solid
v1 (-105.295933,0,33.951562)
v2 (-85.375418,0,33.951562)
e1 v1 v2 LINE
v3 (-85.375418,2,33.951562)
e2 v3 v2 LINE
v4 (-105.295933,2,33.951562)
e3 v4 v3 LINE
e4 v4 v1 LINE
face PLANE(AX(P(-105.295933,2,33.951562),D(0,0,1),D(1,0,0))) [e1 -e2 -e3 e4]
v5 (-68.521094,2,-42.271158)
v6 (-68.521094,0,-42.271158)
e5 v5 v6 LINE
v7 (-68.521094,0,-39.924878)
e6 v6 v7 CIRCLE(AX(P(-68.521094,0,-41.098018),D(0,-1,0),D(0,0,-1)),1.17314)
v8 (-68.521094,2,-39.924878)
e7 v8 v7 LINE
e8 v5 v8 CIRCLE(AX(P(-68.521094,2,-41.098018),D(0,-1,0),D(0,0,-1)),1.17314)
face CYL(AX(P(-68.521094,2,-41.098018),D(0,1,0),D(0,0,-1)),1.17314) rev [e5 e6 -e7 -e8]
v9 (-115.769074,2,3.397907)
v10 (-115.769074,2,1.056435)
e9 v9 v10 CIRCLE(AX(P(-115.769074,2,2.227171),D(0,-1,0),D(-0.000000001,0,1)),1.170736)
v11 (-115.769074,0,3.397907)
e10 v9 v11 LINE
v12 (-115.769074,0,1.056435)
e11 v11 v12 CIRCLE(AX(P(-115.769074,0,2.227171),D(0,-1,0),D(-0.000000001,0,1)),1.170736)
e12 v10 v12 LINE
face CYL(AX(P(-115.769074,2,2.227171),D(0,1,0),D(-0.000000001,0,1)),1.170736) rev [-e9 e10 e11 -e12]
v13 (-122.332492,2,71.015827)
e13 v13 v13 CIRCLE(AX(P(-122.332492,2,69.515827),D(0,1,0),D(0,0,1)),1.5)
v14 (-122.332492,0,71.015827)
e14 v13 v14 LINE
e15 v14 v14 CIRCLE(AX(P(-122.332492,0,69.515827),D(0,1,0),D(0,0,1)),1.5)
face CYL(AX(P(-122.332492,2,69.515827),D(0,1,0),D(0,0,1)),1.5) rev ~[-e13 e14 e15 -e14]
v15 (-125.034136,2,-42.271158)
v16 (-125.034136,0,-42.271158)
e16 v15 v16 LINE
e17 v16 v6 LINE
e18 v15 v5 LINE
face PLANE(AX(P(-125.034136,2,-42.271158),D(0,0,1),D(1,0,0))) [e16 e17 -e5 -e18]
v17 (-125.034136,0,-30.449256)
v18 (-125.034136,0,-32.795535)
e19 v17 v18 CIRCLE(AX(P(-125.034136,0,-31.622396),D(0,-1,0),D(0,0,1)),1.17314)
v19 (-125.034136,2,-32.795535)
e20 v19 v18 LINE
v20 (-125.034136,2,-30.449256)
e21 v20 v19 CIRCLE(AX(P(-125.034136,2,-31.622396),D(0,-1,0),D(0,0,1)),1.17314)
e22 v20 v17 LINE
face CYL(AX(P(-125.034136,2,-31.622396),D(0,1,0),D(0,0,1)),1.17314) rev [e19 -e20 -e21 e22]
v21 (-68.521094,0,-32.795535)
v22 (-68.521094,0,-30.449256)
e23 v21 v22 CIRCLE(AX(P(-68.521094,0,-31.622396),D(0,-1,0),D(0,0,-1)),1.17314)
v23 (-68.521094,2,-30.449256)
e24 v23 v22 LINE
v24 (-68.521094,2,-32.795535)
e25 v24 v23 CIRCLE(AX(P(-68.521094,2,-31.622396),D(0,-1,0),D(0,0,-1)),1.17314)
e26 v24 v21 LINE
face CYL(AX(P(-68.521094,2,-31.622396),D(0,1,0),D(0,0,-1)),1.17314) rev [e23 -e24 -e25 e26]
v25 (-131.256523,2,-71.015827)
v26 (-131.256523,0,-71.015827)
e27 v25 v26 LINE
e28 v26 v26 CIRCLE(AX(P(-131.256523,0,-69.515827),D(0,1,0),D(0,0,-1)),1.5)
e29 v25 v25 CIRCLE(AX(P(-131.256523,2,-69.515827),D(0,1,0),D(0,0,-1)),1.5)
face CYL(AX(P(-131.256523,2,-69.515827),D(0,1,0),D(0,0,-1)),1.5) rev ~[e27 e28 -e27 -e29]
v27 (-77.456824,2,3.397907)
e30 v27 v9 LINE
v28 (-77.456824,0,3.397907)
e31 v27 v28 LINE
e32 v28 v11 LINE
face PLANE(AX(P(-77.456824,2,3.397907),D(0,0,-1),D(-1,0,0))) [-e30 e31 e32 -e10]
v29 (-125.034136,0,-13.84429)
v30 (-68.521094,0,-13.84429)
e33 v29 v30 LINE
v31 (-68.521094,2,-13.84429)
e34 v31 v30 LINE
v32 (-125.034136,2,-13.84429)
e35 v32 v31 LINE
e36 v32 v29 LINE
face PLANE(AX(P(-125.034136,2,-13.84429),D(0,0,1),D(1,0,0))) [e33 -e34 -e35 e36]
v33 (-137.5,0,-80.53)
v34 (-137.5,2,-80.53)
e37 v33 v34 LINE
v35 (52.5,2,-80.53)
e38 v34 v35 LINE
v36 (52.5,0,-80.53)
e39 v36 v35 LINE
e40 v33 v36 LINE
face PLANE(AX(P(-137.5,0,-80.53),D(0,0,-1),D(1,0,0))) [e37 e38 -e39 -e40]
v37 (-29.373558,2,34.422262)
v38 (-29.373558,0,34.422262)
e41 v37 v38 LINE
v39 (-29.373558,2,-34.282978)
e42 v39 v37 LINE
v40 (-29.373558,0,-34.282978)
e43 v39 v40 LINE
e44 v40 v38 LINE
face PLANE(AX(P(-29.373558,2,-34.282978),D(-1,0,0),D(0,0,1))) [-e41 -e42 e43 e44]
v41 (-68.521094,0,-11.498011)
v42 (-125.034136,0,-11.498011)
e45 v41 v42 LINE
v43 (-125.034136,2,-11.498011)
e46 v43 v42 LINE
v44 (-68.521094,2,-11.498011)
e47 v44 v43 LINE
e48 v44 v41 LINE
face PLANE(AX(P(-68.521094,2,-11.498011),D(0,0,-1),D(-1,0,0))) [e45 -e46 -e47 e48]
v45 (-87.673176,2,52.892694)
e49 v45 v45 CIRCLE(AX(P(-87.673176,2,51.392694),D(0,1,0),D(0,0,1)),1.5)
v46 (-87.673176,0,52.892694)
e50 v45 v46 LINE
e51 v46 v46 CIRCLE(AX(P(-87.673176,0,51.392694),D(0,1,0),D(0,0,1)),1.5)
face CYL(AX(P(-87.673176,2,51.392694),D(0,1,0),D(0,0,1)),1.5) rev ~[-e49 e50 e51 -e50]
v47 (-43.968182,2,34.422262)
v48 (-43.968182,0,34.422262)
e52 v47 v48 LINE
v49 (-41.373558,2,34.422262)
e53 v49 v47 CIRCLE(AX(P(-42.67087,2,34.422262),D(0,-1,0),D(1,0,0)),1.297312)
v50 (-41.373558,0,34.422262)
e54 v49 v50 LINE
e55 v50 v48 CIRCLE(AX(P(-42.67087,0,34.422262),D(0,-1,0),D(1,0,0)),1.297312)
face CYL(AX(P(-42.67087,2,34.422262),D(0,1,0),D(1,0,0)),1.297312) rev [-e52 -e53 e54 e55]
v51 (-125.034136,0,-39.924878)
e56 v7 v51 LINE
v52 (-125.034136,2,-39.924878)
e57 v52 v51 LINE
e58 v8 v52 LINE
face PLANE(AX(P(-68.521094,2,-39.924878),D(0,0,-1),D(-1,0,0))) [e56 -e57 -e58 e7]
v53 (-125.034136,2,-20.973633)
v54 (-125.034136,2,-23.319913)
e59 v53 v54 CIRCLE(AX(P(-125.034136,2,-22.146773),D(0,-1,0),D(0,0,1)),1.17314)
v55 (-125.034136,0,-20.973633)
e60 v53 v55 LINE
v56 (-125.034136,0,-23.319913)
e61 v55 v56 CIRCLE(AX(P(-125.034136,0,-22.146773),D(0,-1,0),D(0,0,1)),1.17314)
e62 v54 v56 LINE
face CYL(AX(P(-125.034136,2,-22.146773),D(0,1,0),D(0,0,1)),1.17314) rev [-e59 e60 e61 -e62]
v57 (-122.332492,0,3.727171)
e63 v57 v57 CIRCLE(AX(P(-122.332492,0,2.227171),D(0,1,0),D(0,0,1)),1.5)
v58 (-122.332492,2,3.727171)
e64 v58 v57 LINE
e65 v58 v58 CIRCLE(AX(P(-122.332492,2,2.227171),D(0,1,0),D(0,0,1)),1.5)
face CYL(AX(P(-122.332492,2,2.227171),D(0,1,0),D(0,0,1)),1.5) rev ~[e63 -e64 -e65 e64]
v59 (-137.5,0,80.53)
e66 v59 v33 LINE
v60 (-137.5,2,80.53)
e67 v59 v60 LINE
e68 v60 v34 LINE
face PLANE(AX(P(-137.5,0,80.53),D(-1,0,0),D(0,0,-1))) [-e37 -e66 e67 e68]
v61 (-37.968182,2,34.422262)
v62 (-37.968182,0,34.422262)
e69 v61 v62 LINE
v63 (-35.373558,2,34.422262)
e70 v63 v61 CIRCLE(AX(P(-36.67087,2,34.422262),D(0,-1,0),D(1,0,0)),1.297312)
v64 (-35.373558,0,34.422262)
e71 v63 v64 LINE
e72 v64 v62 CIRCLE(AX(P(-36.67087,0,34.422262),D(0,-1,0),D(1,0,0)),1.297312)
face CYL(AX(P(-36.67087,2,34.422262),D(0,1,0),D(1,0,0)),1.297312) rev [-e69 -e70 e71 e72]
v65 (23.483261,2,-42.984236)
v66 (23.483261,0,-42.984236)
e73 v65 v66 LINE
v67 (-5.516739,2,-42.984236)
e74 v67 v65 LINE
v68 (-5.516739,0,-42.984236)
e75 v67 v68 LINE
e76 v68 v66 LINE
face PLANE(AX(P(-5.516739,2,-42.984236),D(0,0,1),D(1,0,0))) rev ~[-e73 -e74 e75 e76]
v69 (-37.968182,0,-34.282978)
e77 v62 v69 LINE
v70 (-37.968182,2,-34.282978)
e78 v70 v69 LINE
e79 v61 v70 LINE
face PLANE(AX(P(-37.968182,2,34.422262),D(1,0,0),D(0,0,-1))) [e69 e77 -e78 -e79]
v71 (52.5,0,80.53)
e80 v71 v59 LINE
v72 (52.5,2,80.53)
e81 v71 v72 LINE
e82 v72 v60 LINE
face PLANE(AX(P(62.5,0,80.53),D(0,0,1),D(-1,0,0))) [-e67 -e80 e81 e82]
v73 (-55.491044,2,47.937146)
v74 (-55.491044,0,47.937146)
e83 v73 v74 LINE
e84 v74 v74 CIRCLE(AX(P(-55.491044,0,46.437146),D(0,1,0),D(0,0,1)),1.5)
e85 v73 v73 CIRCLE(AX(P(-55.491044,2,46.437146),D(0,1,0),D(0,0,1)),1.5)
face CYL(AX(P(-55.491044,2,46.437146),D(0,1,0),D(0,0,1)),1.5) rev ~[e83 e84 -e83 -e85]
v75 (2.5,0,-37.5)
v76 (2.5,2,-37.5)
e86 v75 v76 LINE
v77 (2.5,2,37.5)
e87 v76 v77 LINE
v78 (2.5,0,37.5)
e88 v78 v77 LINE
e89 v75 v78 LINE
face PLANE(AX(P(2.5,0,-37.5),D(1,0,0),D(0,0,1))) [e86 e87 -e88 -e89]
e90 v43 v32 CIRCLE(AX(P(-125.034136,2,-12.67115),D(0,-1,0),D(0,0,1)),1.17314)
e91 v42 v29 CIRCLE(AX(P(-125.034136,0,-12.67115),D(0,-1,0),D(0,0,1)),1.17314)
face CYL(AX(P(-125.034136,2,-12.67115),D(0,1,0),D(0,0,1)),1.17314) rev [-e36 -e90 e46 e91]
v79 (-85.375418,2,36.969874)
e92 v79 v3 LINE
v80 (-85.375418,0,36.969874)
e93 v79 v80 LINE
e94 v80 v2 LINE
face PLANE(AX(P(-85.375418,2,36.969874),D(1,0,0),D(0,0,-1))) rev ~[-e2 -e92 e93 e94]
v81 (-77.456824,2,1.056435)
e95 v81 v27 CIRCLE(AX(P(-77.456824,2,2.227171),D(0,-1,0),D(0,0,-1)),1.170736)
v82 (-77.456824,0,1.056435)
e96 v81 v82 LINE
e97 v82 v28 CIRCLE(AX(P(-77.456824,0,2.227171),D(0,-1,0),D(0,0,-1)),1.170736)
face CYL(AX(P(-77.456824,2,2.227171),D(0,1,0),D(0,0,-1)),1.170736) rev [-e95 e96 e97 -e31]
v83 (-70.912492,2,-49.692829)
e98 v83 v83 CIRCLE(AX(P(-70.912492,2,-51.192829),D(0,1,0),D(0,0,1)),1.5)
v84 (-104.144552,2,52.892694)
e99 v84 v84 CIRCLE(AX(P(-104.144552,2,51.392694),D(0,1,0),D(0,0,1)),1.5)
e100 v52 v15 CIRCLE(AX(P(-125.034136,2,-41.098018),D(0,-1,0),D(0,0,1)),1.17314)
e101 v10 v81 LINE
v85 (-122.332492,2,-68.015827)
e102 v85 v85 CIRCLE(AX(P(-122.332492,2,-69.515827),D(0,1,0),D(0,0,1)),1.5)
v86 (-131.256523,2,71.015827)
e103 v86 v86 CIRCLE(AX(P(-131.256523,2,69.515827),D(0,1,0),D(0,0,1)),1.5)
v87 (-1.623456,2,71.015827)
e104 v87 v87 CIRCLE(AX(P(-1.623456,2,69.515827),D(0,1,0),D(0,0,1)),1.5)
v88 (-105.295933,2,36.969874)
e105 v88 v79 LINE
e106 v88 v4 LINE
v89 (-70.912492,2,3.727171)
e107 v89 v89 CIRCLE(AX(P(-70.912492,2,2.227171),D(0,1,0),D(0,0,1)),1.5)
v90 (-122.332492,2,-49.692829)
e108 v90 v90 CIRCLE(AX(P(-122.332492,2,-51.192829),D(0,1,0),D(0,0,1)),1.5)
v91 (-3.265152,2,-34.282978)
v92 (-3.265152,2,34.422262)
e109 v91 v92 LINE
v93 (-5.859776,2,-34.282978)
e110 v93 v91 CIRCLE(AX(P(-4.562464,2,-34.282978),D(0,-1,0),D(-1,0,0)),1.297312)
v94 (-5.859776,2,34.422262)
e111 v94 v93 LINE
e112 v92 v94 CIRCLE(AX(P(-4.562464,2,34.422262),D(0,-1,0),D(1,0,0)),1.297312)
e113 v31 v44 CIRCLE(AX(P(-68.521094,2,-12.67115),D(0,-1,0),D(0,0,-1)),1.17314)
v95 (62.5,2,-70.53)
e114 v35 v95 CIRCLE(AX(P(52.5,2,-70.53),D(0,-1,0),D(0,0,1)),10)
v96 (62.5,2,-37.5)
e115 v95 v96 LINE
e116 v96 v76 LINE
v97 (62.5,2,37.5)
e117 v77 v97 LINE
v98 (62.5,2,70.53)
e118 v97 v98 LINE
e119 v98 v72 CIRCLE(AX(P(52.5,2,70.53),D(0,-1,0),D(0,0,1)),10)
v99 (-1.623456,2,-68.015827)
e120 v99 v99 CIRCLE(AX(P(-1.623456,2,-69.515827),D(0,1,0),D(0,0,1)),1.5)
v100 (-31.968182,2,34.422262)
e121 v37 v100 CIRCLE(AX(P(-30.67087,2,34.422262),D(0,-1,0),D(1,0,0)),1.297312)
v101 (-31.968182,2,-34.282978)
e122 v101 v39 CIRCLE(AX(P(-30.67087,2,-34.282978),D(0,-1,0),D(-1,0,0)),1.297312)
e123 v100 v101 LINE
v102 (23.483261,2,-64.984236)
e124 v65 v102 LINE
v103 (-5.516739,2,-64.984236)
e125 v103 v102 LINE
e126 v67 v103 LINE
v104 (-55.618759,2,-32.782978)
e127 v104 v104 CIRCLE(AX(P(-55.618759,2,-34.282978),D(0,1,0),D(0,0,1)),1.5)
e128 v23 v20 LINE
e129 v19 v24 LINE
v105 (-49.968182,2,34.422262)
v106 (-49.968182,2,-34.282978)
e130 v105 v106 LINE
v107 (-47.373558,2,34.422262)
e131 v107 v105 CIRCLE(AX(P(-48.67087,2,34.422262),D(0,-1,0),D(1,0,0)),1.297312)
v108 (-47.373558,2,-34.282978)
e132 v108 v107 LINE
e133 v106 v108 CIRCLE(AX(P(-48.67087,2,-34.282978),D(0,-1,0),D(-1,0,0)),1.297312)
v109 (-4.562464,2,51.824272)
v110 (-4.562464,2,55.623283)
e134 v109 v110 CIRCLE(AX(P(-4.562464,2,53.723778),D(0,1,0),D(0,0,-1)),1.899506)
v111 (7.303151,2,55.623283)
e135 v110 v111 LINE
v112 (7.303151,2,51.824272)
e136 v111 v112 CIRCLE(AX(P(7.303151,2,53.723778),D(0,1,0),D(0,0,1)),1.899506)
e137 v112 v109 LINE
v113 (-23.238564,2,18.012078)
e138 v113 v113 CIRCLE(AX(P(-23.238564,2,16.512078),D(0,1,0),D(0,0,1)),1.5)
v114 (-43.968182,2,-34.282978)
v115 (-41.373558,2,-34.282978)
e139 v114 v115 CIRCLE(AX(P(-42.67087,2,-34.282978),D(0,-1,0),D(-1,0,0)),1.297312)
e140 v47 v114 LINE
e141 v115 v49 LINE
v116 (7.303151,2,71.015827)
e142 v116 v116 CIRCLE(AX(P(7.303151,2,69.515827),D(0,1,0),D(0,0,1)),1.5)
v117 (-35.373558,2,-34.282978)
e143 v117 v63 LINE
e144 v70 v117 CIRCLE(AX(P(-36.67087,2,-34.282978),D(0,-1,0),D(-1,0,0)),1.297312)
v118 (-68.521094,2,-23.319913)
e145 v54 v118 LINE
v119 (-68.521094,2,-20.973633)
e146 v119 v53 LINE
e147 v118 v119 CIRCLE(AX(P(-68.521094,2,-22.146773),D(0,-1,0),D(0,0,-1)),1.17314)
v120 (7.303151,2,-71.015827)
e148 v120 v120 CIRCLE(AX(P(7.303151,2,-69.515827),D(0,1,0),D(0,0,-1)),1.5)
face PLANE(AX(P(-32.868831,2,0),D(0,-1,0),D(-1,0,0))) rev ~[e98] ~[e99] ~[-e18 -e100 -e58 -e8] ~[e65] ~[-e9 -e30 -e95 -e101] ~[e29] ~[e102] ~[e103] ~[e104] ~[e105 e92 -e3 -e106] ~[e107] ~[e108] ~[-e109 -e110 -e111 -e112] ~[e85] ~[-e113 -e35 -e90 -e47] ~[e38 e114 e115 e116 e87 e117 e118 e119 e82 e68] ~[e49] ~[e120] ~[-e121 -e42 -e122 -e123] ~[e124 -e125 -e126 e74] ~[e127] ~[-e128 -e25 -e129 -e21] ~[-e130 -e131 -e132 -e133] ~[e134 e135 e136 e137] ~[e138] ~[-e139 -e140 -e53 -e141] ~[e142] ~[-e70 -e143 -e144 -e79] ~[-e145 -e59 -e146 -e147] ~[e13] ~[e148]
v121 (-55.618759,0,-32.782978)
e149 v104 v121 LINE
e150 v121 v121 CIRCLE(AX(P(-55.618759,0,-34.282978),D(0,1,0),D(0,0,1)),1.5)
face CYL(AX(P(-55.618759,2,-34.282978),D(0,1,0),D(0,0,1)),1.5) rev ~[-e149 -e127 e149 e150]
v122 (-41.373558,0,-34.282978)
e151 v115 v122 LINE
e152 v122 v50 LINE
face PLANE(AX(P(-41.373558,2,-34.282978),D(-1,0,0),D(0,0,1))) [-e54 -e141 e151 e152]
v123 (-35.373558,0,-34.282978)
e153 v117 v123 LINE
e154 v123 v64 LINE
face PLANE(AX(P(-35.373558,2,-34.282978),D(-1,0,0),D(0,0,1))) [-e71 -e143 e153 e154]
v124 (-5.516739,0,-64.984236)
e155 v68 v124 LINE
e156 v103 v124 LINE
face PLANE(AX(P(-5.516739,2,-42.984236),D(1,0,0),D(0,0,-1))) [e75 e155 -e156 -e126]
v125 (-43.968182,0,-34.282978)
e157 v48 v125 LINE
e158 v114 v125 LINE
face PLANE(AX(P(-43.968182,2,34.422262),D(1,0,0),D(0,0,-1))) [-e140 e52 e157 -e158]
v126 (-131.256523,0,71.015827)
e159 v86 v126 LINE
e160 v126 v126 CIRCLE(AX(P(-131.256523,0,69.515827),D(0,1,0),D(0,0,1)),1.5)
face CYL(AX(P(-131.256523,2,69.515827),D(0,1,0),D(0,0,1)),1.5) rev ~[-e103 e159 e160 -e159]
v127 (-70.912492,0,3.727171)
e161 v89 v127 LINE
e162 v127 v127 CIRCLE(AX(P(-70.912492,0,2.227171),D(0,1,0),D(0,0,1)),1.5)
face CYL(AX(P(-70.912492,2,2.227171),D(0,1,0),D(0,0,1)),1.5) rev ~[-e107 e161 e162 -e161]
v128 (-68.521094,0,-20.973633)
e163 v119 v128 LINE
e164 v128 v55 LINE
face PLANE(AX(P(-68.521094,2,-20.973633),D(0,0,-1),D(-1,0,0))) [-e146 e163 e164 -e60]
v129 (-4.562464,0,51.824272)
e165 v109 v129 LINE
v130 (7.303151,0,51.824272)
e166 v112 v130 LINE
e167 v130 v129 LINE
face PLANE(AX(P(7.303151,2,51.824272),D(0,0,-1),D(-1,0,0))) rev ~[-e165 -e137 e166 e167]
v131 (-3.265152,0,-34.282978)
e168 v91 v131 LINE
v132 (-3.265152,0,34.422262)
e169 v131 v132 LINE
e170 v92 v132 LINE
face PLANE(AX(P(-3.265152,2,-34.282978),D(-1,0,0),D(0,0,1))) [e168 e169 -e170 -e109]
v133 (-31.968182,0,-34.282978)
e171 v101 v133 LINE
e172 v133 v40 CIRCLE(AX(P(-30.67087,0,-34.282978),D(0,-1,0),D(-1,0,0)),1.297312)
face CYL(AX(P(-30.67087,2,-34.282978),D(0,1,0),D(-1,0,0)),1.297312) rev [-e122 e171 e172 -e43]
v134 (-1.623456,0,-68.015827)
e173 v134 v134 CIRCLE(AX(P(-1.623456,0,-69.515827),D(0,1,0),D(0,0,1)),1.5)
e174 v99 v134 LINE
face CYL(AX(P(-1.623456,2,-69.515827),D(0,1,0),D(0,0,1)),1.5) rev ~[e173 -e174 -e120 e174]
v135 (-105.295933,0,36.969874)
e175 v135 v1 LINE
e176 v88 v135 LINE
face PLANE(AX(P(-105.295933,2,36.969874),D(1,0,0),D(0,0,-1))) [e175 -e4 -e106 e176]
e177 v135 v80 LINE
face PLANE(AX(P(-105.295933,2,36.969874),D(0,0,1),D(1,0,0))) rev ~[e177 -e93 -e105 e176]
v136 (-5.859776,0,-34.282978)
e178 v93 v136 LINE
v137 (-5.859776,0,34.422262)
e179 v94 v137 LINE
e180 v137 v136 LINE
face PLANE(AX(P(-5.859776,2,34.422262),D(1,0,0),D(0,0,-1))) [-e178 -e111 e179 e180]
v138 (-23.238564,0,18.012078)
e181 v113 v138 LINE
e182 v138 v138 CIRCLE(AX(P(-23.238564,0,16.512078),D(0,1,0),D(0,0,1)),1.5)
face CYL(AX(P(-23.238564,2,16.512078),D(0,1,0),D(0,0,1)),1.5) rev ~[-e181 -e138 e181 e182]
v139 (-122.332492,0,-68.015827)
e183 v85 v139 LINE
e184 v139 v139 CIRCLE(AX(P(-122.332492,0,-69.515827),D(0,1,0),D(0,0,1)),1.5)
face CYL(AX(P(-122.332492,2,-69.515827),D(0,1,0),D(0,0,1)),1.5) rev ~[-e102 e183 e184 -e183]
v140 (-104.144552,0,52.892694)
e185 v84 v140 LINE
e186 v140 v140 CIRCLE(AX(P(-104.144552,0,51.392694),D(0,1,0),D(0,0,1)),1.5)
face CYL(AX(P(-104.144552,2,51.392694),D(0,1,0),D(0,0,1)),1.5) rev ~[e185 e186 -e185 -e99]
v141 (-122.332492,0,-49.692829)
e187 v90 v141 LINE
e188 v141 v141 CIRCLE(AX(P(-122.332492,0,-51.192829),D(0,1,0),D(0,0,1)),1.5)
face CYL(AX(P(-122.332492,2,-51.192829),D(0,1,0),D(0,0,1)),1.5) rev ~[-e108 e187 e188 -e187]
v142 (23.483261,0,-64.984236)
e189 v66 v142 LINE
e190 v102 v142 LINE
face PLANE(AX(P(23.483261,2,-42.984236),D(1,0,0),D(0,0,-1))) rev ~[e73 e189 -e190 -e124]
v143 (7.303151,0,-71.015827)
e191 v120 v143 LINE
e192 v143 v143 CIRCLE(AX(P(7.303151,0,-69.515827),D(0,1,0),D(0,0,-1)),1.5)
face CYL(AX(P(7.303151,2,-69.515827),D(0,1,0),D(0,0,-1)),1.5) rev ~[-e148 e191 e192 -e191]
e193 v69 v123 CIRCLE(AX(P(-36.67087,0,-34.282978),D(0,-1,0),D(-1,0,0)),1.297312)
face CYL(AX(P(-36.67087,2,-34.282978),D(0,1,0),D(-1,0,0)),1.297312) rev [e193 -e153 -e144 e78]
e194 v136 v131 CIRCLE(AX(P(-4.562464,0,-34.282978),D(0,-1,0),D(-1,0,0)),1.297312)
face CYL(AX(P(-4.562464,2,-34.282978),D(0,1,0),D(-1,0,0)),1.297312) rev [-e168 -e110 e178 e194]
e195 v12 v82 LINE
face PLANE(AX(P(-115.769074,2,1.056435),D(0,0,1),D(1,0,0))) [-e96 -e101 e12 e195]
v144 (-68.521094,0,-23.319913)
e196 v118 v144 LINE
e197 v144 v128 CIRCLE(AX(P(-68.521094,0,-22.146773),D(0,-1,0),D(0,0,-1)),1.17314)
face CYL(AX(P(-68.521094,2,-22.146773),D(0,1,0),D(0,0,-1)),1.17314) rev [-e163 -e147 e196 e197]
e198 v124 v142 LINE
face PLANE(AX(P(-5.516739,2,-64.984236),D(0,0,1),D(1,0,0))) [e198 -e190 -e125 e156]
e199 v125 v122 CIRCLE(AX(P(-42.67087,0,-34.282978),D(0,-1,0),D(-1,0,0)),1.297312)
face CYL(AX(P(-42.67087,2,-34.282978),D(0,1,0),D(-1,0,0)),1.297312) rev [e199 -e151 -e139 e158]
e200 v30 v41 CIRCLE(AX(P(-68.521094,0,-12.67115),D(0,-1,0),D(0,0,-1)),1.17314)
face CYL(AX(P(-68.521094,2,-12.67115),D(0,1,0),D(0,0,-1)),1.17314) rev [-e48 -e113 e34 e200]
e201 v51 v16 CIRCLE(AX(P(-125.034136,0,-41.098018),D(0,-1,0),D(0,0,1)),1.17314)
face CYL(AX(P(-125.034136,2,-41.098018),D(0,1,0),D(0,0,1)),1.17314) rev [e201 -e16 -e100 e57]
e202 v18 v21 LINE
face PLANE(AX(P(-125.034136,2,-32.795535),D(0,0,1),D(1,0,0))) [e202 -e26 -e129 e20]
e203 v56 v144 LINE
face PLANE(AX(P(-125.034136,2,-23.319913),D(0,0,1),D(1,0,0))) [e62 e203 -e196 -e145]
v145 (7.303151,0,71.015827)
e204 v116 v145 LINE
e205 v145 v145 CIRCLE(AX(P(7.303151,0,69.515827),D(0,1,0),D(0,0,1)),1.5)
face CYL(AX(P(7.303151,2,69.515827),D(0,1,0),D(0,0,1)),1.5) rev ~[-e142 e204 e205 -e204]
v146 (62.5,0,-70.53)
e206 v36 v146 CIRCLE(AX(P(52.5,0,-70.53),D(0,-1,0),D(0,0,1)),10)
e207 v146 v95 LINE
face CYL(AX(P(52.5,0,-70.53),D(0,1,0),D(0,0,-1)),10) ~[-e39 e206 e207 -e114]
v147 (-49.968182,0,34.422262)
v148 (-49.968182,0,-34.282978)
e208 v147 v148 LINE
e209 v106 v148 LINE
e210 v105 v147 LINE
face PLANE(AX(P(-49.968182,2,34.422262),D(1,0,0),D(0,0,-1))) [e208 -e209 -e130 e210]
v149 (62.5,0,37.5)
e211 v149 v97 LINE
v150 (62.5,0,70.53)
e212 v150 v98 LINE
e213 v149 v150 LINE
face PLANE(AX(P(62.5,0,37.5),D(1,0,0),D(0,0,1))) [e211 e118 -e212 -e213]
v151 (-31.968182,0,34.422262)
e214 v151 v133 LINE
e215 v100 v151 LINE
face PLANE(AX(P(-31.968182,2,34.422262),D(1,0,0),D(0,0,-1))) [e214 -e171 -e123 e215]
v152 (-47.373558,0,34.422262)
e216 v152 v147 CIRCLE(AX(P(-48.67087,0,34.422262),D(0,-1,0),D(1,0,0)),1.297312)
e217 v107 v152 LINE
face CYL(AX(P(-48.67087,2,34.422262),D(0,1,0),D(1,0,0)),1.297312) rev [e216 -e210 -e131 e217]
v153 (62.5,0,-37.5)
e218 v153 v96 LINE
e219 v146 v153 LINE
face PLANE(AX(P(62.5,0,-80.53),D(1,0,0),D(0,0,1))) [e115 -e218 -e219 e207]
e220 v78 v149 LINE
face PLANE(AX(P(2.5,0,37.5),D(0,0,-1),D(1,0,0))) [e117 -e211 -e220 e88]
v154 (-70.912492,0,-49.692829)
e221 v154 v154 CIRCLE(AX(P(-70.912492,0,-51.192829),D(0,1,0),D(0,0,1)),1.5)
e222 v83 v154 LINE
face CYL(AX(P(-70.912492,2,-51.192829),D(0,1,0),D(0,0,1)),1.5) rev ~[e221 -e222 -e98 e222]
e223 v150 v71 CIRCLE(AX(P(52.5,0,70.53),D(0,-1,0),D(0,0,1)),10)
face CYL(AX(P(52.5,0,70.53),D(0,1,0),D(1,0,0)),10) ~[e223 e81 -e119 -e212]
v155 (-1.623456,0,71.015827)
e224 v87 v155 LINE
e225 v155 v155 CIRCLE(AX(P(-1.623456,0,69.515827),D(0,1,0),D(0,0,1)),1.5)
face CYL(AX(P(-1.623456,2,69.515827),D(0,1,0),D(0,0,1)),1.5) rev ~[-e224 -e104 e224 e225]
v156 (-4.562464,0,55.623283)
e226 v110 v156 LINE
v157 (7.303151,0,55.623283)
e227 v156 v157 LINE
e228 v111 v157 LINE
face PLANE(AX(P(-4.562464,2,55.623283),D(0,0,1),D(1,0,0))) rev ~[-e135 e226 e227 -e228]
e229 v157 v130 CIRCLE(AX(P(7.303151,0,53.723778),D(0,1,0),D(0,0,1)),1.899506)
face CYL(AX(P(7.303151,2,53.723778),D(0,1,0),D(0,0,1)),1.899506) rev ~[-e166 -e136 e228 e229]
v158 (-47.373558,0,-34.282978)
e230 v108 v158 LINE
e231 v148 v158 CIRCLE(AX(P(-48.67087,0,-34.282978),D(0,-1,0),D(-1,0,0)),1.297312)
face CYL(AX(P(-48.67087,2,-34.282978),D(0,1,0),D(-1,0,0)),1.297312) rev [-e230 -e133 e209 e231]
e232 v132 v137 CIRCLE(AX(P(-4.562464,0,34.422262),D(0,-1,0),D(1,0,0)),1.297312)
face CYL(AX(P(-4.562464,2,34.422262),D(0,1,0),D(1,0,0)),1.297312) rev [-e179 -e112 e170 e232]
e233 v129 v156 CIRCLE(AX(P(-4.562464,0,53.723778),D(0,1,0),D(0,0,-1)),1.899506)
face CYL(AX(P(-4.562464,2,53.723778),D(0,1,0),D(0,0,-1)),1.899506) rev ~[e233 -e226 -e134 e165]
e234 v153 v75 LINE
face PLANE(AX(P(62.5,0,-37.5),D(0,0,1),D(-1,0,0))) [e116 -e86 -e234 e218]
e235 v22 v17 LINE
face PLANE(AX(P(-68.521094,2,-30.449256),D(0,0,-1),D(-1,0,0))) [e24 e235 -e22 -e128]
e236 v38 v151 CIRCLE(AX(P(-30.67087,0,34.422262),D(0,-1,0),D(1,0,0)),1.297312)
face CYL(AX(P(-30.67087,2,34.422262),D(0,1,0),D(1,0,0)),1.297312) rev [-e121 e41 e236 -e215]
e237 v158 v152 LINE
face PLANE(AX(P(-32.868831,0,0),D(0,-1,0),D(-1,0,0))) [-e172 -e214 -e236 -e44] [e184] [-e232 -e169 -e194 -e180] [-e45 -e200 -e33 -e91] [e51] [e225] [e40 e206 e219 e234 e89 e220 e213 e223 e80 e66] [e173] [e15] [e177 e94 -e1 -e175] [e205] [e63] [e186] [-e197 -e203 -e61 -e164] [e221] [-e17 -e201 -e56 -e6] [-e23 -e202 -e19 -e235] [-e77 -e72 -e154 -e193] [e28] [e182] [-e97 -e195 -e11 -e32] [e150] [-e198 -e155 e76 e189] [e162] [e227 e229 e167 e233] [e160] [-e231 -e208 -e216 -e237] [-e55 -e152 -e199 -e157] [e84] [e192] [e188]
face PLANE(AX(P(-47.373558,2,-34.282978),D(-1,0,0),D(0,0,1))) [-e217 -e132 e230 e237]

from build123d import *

# Parameters (mm, degrees)
BOSS_EXTRUDE1_DEPTH = 2
SKETCH2_R           = 1.5
SKETCH2_W           = 19.920515559
SKETCH2_H           = 3.018311412
SKETCH2_W_2         = 29
SKETCH2_H_2         = 22
CUT_EXTRUDE1_DEPTH  = 2
FILLET1_R           = 10


with BuildPart() as part:
    # Sketch1 → Boss-Extrude1 (new body)
    with BuildSketch(Plane(origin=(0, 0, 0), x_dir=(1, 0, 0), z_dir=(0, 1, 0))):
        Polygon((62.5, -37.5), (62.5, -80.53), (-137.5, -80.53), (-137.5, 80.53), (62.5, 80.53), (62.5, 37.5), (2.5, 37.5), (2.5, -37.5), align=None)
    extrude(amount=BOSS_EXTRUDE1_DEPTH)

    # Sketch2 → Cut-Extrude1 (cut)
    with BuildSketch(Plane(origin=(0, 2, 0), x_dir=(1, 0, 0), z_dir=(0, 1, 0))):
        with Locations(Location((-131.256523302, -69.515826612, 0), (0, 0, 270))):
            Circle(SKETCH2_R)
        with Locations(Location((7.303150728, -69.515826612, 0), (0, 0, 270))):
            Circle(SKETCH2_R)
        with Locations(Location((-131.256523302, 69.515826612, 0), (0, 0, 90))):
            Circle(SKETCH2_R)
        with Locations(Location((7.303150728, 69.515826612, 0), (0, 0, 90))):
            Circle(SKETCH2_R)
        with Locations(Location((-122.332492344, -69.515826612, 0), (0, 0, 270))):
            Circle(SKETCH2_R)
        with Locations(Location((-1.623456056, -69.515826612, 0), (0, 0, 270))):
            Circle(SKETCH2_R)
        with Locations(Location((-1.623456056, 69.515826612, 0), (0, 0, 270))):
            Circle(SKETCH2_R)
        with Locations(Location((-122.332492344, 69.515826612, 0), (0, 0, 270))):
            Circle(SKETCH2_R)
        with Locations(Location((-23.238563778, -16.512077665, 0), (0, 0, 270))):
            Circle(SKETCH2_R)
        with Locations(Location((-55.491043914, -46.437145858, 0), (0, 0, 270))):
            Circle(SKETCH2_R)
        with Locations(Location((-55.618758711, 34.282977792, 0), (0, 0, 270))):
            Circle(SKETCH2_R)
        with Locations(Location((-70.912492344, 51.192828944, 0), (0, 0, 270))):
            Circle(SKETCH2_R)
        with Locations(Location((-122.332492344, 51.192828944, 0), (0, 0, 270))):
            Circle(SKETCH2_R)
        with Locations(Location((-122.332492344, -2.227171201, 0), (0, 0, 270))):
            Circle(SKETCH2_R)
        with Locations(Location((-70.912492344, -2.227171201, 0), (0, 0, 270))):
            Circle(SKETCH2_R)
        with Locations(Location((-104.14455224, -51.392693568, 0), (0, 0, 270))):
            Circle(SKETCH2_R)
        with Locations(Location((-87.673175627, -51.392693568, 0), (0, 0, 270))):
            Circle(SKETCH2_R)
        with BuildLine():
            Line((-3.265151958, 34.282977792), (-3.265151958, -34.42226179))
            ThreePointArc((-3.265151958, -34.42226179), (-4.562464061, -35.719573893), (-5.859776165, -34.42226179))
            Line((-5.859776165, -34.42226179), (-5.859776165, 34.282977792))
            ThreePointArc((-5.859776165, 34.282977792), (-4.562464061, 35.580289895), (-3.265151958, 34.282977792))
        make_face()
        with BuildLine():
            Line((-29.373558034, 34.282977792), (-29.373558034, -34.42226179))
            ThreePointArc((-29.373558034, -34.42226179), (-30.670870138, -35.719573893), (-31.968182241, -34.42226179))
            Line((-31.968182241, -34.42226179), (-31.968182241, 34.282977792))
            ThreePointArc((-31.968182241, 34.282977792), (-30.670870138, 35.580289895), (-29.373558034, 34.282977792))
        make_face()
        with BuildLine():
            Line((-35.373558034, 34.282977792), (-35.373558034, -34.42226179))
            ThreePointArc((-35.373558034, -34.42226179), (-36.670870138, -35.719573893), (-37.968182241, -34.42226179))
            Line((-37.968182241, -34.42226179), (-37.968182241, 34.282977792))
            ThreePointArc((-37.968182241, 34.282977792), (-36.670870138, 35.580289895), (-35.373558034, 34.282977792))
        make_face()
        with BuildLine():
            Line((-41.373558034, 34.282977792), (-41.373558034, -34.42226179))
            ThreePointArc((-41.373558034, -34.42226179), (-42.670870138, -35.719573893), (-43.968182241, -34.42226179))
            Line((-43.968182241, -34.42226179), (-43.968182241, 34.282977792))
            ThreePointArc((-43.968182241, 34.282977792), (-42.670870138, 35.580289895), (-41.373558034, 34.282977792))
        make_face()
        with BuildLine():
            Line((-47.373558034, 34.282977792), (-47.373558034, -34.42226179))
            ThreePointArc((-47.373558034, -34.42226179), (-48.670870138, -35.719573893), (-49.968182241, -34.42226179))
            Line((-49.968182241, -34.42226179), (-49.968182241, 34.282977792))
            ThreePointArc((-49.968182241, 34.282977792), (-48.670870138, 35.580289895), (-47.373558034, 34.282977792))
        make_face()
        with BuildLine():
            Line((-115.769074494, -1.056435162), (-77.456824006, -1.056435162))
            ThreePointArc((-77.456824006, -1.056435162), (-76.286087967, -2.227171201), (-77.456824006, -3.39790724))
            Line((-77.456824006, -3.39790724), (-115.769074494, -3.39790724))
            ThreePointArc((-115.769074494, -3.39790724), (-116.939810532, -2.227171201), (-115.769074494, -1.056435162))
        make_face()
        with Locations((-95.335675627, -35.460717912)):
            Rectangle(SKETCH2_W, SKETCH2_H)
        with BuildLine():
            Line((-68.521094286, 39.924878234), (-125.034135879, 39.924878234))
            ThreePointArc((-125.034135879, 39.924878234), (-126.207275741, 41.098018096), (-125.034135879, 42.271157959))
            Line((-125.034135879, 42.271157959), (-68.521094286, 42.271157959))
            ThreePointArc((-68.521094286, 42.271157959), (-67.347954424, 41.098018096), (-68.521094286, 39.924878234))
        make_face()
        with BuildLine():
            Line((-68.521094286, 30.449255701), (-125.034135879, 30.449255701))
            ThreePointArc((-125.034135879, 30.449255701), (-126.207275741, 31.622395563), (-125.034135879, 32.795535426))
            Line((-125.034135879, 32.795535426), (-68.521094286, 32.795535426))
            ThreePointArc((-68.521094286, 32.795535426), (-67.347954424, 31.622395563), (-68.521094286, 30.449255701))
        make_face()
        with BuildLine():
            Line((-68.521094286, 20.973633168), (-125.034135879, 20.973633168))
            ThreePointArc((-125.034135879, 20.973633168), (-126.207275741, 22.14677303), (-125.034135879, 23.319912892))
            Line((-125.034135879, 23.319912892), (-68.521094286, 23.319912892))
            ThreePointArc((-68.521094286, 23.319912892), (-67.347954424, 22.14677303), (-68.521094286, 20.973633168))
        make_face()
        with BuildLine():
            Line((-68.521094286, 11.498010634), (-125.034135879, 11.498010634))
            ThreePointArc((-125.034135879, 11.498010634), (-126.207275741, 12.671150497), (-125.034135879, 13.844290359))
            Line((-125.034135879, 13.844290359), (-68.521094286, 13.844290359))
            ThreePointArc((-68.521094286, 13.844290359), (-67.347954424, 12.671150497), (-68.521094286, 11.498010634))
        make_face()
        with Locations((8.983260953, 53.984235798)):
            Rectangle(SKETCH2_W_2, SKETCH2_H_2)
        with BuildLine():
            Line((7.303150728, -51.824271767), (-4.562464061, -51.824271767))
            ThreePointArc((-4.562464061, -51.824271767), (-6.461969906, -53.723777612), (-4.562464061, -55.623283456))
            Line((-4.562464061, -55.623283456), (7.303150728, -55.623283456))
            ThreePointArc((7.303150728, -55.623283456), (9.202656572, -53.723777612), (7.303150728, -51.824271767))
        make_face()
    extrude(amount=-CUT_EXTRUDE1_DEPTH, mode=Mode.SUBTRACT)

    # Fillet1
    fillet1_edges = [part.edges().sort_by_distance(p)[0] for p in [
        (62.5, 1, -80.53),
        (62.5, 1, 80.53),
    ]]
    fillet(fillet1_edges, radius=FILLET1_R)


solid = part.part
